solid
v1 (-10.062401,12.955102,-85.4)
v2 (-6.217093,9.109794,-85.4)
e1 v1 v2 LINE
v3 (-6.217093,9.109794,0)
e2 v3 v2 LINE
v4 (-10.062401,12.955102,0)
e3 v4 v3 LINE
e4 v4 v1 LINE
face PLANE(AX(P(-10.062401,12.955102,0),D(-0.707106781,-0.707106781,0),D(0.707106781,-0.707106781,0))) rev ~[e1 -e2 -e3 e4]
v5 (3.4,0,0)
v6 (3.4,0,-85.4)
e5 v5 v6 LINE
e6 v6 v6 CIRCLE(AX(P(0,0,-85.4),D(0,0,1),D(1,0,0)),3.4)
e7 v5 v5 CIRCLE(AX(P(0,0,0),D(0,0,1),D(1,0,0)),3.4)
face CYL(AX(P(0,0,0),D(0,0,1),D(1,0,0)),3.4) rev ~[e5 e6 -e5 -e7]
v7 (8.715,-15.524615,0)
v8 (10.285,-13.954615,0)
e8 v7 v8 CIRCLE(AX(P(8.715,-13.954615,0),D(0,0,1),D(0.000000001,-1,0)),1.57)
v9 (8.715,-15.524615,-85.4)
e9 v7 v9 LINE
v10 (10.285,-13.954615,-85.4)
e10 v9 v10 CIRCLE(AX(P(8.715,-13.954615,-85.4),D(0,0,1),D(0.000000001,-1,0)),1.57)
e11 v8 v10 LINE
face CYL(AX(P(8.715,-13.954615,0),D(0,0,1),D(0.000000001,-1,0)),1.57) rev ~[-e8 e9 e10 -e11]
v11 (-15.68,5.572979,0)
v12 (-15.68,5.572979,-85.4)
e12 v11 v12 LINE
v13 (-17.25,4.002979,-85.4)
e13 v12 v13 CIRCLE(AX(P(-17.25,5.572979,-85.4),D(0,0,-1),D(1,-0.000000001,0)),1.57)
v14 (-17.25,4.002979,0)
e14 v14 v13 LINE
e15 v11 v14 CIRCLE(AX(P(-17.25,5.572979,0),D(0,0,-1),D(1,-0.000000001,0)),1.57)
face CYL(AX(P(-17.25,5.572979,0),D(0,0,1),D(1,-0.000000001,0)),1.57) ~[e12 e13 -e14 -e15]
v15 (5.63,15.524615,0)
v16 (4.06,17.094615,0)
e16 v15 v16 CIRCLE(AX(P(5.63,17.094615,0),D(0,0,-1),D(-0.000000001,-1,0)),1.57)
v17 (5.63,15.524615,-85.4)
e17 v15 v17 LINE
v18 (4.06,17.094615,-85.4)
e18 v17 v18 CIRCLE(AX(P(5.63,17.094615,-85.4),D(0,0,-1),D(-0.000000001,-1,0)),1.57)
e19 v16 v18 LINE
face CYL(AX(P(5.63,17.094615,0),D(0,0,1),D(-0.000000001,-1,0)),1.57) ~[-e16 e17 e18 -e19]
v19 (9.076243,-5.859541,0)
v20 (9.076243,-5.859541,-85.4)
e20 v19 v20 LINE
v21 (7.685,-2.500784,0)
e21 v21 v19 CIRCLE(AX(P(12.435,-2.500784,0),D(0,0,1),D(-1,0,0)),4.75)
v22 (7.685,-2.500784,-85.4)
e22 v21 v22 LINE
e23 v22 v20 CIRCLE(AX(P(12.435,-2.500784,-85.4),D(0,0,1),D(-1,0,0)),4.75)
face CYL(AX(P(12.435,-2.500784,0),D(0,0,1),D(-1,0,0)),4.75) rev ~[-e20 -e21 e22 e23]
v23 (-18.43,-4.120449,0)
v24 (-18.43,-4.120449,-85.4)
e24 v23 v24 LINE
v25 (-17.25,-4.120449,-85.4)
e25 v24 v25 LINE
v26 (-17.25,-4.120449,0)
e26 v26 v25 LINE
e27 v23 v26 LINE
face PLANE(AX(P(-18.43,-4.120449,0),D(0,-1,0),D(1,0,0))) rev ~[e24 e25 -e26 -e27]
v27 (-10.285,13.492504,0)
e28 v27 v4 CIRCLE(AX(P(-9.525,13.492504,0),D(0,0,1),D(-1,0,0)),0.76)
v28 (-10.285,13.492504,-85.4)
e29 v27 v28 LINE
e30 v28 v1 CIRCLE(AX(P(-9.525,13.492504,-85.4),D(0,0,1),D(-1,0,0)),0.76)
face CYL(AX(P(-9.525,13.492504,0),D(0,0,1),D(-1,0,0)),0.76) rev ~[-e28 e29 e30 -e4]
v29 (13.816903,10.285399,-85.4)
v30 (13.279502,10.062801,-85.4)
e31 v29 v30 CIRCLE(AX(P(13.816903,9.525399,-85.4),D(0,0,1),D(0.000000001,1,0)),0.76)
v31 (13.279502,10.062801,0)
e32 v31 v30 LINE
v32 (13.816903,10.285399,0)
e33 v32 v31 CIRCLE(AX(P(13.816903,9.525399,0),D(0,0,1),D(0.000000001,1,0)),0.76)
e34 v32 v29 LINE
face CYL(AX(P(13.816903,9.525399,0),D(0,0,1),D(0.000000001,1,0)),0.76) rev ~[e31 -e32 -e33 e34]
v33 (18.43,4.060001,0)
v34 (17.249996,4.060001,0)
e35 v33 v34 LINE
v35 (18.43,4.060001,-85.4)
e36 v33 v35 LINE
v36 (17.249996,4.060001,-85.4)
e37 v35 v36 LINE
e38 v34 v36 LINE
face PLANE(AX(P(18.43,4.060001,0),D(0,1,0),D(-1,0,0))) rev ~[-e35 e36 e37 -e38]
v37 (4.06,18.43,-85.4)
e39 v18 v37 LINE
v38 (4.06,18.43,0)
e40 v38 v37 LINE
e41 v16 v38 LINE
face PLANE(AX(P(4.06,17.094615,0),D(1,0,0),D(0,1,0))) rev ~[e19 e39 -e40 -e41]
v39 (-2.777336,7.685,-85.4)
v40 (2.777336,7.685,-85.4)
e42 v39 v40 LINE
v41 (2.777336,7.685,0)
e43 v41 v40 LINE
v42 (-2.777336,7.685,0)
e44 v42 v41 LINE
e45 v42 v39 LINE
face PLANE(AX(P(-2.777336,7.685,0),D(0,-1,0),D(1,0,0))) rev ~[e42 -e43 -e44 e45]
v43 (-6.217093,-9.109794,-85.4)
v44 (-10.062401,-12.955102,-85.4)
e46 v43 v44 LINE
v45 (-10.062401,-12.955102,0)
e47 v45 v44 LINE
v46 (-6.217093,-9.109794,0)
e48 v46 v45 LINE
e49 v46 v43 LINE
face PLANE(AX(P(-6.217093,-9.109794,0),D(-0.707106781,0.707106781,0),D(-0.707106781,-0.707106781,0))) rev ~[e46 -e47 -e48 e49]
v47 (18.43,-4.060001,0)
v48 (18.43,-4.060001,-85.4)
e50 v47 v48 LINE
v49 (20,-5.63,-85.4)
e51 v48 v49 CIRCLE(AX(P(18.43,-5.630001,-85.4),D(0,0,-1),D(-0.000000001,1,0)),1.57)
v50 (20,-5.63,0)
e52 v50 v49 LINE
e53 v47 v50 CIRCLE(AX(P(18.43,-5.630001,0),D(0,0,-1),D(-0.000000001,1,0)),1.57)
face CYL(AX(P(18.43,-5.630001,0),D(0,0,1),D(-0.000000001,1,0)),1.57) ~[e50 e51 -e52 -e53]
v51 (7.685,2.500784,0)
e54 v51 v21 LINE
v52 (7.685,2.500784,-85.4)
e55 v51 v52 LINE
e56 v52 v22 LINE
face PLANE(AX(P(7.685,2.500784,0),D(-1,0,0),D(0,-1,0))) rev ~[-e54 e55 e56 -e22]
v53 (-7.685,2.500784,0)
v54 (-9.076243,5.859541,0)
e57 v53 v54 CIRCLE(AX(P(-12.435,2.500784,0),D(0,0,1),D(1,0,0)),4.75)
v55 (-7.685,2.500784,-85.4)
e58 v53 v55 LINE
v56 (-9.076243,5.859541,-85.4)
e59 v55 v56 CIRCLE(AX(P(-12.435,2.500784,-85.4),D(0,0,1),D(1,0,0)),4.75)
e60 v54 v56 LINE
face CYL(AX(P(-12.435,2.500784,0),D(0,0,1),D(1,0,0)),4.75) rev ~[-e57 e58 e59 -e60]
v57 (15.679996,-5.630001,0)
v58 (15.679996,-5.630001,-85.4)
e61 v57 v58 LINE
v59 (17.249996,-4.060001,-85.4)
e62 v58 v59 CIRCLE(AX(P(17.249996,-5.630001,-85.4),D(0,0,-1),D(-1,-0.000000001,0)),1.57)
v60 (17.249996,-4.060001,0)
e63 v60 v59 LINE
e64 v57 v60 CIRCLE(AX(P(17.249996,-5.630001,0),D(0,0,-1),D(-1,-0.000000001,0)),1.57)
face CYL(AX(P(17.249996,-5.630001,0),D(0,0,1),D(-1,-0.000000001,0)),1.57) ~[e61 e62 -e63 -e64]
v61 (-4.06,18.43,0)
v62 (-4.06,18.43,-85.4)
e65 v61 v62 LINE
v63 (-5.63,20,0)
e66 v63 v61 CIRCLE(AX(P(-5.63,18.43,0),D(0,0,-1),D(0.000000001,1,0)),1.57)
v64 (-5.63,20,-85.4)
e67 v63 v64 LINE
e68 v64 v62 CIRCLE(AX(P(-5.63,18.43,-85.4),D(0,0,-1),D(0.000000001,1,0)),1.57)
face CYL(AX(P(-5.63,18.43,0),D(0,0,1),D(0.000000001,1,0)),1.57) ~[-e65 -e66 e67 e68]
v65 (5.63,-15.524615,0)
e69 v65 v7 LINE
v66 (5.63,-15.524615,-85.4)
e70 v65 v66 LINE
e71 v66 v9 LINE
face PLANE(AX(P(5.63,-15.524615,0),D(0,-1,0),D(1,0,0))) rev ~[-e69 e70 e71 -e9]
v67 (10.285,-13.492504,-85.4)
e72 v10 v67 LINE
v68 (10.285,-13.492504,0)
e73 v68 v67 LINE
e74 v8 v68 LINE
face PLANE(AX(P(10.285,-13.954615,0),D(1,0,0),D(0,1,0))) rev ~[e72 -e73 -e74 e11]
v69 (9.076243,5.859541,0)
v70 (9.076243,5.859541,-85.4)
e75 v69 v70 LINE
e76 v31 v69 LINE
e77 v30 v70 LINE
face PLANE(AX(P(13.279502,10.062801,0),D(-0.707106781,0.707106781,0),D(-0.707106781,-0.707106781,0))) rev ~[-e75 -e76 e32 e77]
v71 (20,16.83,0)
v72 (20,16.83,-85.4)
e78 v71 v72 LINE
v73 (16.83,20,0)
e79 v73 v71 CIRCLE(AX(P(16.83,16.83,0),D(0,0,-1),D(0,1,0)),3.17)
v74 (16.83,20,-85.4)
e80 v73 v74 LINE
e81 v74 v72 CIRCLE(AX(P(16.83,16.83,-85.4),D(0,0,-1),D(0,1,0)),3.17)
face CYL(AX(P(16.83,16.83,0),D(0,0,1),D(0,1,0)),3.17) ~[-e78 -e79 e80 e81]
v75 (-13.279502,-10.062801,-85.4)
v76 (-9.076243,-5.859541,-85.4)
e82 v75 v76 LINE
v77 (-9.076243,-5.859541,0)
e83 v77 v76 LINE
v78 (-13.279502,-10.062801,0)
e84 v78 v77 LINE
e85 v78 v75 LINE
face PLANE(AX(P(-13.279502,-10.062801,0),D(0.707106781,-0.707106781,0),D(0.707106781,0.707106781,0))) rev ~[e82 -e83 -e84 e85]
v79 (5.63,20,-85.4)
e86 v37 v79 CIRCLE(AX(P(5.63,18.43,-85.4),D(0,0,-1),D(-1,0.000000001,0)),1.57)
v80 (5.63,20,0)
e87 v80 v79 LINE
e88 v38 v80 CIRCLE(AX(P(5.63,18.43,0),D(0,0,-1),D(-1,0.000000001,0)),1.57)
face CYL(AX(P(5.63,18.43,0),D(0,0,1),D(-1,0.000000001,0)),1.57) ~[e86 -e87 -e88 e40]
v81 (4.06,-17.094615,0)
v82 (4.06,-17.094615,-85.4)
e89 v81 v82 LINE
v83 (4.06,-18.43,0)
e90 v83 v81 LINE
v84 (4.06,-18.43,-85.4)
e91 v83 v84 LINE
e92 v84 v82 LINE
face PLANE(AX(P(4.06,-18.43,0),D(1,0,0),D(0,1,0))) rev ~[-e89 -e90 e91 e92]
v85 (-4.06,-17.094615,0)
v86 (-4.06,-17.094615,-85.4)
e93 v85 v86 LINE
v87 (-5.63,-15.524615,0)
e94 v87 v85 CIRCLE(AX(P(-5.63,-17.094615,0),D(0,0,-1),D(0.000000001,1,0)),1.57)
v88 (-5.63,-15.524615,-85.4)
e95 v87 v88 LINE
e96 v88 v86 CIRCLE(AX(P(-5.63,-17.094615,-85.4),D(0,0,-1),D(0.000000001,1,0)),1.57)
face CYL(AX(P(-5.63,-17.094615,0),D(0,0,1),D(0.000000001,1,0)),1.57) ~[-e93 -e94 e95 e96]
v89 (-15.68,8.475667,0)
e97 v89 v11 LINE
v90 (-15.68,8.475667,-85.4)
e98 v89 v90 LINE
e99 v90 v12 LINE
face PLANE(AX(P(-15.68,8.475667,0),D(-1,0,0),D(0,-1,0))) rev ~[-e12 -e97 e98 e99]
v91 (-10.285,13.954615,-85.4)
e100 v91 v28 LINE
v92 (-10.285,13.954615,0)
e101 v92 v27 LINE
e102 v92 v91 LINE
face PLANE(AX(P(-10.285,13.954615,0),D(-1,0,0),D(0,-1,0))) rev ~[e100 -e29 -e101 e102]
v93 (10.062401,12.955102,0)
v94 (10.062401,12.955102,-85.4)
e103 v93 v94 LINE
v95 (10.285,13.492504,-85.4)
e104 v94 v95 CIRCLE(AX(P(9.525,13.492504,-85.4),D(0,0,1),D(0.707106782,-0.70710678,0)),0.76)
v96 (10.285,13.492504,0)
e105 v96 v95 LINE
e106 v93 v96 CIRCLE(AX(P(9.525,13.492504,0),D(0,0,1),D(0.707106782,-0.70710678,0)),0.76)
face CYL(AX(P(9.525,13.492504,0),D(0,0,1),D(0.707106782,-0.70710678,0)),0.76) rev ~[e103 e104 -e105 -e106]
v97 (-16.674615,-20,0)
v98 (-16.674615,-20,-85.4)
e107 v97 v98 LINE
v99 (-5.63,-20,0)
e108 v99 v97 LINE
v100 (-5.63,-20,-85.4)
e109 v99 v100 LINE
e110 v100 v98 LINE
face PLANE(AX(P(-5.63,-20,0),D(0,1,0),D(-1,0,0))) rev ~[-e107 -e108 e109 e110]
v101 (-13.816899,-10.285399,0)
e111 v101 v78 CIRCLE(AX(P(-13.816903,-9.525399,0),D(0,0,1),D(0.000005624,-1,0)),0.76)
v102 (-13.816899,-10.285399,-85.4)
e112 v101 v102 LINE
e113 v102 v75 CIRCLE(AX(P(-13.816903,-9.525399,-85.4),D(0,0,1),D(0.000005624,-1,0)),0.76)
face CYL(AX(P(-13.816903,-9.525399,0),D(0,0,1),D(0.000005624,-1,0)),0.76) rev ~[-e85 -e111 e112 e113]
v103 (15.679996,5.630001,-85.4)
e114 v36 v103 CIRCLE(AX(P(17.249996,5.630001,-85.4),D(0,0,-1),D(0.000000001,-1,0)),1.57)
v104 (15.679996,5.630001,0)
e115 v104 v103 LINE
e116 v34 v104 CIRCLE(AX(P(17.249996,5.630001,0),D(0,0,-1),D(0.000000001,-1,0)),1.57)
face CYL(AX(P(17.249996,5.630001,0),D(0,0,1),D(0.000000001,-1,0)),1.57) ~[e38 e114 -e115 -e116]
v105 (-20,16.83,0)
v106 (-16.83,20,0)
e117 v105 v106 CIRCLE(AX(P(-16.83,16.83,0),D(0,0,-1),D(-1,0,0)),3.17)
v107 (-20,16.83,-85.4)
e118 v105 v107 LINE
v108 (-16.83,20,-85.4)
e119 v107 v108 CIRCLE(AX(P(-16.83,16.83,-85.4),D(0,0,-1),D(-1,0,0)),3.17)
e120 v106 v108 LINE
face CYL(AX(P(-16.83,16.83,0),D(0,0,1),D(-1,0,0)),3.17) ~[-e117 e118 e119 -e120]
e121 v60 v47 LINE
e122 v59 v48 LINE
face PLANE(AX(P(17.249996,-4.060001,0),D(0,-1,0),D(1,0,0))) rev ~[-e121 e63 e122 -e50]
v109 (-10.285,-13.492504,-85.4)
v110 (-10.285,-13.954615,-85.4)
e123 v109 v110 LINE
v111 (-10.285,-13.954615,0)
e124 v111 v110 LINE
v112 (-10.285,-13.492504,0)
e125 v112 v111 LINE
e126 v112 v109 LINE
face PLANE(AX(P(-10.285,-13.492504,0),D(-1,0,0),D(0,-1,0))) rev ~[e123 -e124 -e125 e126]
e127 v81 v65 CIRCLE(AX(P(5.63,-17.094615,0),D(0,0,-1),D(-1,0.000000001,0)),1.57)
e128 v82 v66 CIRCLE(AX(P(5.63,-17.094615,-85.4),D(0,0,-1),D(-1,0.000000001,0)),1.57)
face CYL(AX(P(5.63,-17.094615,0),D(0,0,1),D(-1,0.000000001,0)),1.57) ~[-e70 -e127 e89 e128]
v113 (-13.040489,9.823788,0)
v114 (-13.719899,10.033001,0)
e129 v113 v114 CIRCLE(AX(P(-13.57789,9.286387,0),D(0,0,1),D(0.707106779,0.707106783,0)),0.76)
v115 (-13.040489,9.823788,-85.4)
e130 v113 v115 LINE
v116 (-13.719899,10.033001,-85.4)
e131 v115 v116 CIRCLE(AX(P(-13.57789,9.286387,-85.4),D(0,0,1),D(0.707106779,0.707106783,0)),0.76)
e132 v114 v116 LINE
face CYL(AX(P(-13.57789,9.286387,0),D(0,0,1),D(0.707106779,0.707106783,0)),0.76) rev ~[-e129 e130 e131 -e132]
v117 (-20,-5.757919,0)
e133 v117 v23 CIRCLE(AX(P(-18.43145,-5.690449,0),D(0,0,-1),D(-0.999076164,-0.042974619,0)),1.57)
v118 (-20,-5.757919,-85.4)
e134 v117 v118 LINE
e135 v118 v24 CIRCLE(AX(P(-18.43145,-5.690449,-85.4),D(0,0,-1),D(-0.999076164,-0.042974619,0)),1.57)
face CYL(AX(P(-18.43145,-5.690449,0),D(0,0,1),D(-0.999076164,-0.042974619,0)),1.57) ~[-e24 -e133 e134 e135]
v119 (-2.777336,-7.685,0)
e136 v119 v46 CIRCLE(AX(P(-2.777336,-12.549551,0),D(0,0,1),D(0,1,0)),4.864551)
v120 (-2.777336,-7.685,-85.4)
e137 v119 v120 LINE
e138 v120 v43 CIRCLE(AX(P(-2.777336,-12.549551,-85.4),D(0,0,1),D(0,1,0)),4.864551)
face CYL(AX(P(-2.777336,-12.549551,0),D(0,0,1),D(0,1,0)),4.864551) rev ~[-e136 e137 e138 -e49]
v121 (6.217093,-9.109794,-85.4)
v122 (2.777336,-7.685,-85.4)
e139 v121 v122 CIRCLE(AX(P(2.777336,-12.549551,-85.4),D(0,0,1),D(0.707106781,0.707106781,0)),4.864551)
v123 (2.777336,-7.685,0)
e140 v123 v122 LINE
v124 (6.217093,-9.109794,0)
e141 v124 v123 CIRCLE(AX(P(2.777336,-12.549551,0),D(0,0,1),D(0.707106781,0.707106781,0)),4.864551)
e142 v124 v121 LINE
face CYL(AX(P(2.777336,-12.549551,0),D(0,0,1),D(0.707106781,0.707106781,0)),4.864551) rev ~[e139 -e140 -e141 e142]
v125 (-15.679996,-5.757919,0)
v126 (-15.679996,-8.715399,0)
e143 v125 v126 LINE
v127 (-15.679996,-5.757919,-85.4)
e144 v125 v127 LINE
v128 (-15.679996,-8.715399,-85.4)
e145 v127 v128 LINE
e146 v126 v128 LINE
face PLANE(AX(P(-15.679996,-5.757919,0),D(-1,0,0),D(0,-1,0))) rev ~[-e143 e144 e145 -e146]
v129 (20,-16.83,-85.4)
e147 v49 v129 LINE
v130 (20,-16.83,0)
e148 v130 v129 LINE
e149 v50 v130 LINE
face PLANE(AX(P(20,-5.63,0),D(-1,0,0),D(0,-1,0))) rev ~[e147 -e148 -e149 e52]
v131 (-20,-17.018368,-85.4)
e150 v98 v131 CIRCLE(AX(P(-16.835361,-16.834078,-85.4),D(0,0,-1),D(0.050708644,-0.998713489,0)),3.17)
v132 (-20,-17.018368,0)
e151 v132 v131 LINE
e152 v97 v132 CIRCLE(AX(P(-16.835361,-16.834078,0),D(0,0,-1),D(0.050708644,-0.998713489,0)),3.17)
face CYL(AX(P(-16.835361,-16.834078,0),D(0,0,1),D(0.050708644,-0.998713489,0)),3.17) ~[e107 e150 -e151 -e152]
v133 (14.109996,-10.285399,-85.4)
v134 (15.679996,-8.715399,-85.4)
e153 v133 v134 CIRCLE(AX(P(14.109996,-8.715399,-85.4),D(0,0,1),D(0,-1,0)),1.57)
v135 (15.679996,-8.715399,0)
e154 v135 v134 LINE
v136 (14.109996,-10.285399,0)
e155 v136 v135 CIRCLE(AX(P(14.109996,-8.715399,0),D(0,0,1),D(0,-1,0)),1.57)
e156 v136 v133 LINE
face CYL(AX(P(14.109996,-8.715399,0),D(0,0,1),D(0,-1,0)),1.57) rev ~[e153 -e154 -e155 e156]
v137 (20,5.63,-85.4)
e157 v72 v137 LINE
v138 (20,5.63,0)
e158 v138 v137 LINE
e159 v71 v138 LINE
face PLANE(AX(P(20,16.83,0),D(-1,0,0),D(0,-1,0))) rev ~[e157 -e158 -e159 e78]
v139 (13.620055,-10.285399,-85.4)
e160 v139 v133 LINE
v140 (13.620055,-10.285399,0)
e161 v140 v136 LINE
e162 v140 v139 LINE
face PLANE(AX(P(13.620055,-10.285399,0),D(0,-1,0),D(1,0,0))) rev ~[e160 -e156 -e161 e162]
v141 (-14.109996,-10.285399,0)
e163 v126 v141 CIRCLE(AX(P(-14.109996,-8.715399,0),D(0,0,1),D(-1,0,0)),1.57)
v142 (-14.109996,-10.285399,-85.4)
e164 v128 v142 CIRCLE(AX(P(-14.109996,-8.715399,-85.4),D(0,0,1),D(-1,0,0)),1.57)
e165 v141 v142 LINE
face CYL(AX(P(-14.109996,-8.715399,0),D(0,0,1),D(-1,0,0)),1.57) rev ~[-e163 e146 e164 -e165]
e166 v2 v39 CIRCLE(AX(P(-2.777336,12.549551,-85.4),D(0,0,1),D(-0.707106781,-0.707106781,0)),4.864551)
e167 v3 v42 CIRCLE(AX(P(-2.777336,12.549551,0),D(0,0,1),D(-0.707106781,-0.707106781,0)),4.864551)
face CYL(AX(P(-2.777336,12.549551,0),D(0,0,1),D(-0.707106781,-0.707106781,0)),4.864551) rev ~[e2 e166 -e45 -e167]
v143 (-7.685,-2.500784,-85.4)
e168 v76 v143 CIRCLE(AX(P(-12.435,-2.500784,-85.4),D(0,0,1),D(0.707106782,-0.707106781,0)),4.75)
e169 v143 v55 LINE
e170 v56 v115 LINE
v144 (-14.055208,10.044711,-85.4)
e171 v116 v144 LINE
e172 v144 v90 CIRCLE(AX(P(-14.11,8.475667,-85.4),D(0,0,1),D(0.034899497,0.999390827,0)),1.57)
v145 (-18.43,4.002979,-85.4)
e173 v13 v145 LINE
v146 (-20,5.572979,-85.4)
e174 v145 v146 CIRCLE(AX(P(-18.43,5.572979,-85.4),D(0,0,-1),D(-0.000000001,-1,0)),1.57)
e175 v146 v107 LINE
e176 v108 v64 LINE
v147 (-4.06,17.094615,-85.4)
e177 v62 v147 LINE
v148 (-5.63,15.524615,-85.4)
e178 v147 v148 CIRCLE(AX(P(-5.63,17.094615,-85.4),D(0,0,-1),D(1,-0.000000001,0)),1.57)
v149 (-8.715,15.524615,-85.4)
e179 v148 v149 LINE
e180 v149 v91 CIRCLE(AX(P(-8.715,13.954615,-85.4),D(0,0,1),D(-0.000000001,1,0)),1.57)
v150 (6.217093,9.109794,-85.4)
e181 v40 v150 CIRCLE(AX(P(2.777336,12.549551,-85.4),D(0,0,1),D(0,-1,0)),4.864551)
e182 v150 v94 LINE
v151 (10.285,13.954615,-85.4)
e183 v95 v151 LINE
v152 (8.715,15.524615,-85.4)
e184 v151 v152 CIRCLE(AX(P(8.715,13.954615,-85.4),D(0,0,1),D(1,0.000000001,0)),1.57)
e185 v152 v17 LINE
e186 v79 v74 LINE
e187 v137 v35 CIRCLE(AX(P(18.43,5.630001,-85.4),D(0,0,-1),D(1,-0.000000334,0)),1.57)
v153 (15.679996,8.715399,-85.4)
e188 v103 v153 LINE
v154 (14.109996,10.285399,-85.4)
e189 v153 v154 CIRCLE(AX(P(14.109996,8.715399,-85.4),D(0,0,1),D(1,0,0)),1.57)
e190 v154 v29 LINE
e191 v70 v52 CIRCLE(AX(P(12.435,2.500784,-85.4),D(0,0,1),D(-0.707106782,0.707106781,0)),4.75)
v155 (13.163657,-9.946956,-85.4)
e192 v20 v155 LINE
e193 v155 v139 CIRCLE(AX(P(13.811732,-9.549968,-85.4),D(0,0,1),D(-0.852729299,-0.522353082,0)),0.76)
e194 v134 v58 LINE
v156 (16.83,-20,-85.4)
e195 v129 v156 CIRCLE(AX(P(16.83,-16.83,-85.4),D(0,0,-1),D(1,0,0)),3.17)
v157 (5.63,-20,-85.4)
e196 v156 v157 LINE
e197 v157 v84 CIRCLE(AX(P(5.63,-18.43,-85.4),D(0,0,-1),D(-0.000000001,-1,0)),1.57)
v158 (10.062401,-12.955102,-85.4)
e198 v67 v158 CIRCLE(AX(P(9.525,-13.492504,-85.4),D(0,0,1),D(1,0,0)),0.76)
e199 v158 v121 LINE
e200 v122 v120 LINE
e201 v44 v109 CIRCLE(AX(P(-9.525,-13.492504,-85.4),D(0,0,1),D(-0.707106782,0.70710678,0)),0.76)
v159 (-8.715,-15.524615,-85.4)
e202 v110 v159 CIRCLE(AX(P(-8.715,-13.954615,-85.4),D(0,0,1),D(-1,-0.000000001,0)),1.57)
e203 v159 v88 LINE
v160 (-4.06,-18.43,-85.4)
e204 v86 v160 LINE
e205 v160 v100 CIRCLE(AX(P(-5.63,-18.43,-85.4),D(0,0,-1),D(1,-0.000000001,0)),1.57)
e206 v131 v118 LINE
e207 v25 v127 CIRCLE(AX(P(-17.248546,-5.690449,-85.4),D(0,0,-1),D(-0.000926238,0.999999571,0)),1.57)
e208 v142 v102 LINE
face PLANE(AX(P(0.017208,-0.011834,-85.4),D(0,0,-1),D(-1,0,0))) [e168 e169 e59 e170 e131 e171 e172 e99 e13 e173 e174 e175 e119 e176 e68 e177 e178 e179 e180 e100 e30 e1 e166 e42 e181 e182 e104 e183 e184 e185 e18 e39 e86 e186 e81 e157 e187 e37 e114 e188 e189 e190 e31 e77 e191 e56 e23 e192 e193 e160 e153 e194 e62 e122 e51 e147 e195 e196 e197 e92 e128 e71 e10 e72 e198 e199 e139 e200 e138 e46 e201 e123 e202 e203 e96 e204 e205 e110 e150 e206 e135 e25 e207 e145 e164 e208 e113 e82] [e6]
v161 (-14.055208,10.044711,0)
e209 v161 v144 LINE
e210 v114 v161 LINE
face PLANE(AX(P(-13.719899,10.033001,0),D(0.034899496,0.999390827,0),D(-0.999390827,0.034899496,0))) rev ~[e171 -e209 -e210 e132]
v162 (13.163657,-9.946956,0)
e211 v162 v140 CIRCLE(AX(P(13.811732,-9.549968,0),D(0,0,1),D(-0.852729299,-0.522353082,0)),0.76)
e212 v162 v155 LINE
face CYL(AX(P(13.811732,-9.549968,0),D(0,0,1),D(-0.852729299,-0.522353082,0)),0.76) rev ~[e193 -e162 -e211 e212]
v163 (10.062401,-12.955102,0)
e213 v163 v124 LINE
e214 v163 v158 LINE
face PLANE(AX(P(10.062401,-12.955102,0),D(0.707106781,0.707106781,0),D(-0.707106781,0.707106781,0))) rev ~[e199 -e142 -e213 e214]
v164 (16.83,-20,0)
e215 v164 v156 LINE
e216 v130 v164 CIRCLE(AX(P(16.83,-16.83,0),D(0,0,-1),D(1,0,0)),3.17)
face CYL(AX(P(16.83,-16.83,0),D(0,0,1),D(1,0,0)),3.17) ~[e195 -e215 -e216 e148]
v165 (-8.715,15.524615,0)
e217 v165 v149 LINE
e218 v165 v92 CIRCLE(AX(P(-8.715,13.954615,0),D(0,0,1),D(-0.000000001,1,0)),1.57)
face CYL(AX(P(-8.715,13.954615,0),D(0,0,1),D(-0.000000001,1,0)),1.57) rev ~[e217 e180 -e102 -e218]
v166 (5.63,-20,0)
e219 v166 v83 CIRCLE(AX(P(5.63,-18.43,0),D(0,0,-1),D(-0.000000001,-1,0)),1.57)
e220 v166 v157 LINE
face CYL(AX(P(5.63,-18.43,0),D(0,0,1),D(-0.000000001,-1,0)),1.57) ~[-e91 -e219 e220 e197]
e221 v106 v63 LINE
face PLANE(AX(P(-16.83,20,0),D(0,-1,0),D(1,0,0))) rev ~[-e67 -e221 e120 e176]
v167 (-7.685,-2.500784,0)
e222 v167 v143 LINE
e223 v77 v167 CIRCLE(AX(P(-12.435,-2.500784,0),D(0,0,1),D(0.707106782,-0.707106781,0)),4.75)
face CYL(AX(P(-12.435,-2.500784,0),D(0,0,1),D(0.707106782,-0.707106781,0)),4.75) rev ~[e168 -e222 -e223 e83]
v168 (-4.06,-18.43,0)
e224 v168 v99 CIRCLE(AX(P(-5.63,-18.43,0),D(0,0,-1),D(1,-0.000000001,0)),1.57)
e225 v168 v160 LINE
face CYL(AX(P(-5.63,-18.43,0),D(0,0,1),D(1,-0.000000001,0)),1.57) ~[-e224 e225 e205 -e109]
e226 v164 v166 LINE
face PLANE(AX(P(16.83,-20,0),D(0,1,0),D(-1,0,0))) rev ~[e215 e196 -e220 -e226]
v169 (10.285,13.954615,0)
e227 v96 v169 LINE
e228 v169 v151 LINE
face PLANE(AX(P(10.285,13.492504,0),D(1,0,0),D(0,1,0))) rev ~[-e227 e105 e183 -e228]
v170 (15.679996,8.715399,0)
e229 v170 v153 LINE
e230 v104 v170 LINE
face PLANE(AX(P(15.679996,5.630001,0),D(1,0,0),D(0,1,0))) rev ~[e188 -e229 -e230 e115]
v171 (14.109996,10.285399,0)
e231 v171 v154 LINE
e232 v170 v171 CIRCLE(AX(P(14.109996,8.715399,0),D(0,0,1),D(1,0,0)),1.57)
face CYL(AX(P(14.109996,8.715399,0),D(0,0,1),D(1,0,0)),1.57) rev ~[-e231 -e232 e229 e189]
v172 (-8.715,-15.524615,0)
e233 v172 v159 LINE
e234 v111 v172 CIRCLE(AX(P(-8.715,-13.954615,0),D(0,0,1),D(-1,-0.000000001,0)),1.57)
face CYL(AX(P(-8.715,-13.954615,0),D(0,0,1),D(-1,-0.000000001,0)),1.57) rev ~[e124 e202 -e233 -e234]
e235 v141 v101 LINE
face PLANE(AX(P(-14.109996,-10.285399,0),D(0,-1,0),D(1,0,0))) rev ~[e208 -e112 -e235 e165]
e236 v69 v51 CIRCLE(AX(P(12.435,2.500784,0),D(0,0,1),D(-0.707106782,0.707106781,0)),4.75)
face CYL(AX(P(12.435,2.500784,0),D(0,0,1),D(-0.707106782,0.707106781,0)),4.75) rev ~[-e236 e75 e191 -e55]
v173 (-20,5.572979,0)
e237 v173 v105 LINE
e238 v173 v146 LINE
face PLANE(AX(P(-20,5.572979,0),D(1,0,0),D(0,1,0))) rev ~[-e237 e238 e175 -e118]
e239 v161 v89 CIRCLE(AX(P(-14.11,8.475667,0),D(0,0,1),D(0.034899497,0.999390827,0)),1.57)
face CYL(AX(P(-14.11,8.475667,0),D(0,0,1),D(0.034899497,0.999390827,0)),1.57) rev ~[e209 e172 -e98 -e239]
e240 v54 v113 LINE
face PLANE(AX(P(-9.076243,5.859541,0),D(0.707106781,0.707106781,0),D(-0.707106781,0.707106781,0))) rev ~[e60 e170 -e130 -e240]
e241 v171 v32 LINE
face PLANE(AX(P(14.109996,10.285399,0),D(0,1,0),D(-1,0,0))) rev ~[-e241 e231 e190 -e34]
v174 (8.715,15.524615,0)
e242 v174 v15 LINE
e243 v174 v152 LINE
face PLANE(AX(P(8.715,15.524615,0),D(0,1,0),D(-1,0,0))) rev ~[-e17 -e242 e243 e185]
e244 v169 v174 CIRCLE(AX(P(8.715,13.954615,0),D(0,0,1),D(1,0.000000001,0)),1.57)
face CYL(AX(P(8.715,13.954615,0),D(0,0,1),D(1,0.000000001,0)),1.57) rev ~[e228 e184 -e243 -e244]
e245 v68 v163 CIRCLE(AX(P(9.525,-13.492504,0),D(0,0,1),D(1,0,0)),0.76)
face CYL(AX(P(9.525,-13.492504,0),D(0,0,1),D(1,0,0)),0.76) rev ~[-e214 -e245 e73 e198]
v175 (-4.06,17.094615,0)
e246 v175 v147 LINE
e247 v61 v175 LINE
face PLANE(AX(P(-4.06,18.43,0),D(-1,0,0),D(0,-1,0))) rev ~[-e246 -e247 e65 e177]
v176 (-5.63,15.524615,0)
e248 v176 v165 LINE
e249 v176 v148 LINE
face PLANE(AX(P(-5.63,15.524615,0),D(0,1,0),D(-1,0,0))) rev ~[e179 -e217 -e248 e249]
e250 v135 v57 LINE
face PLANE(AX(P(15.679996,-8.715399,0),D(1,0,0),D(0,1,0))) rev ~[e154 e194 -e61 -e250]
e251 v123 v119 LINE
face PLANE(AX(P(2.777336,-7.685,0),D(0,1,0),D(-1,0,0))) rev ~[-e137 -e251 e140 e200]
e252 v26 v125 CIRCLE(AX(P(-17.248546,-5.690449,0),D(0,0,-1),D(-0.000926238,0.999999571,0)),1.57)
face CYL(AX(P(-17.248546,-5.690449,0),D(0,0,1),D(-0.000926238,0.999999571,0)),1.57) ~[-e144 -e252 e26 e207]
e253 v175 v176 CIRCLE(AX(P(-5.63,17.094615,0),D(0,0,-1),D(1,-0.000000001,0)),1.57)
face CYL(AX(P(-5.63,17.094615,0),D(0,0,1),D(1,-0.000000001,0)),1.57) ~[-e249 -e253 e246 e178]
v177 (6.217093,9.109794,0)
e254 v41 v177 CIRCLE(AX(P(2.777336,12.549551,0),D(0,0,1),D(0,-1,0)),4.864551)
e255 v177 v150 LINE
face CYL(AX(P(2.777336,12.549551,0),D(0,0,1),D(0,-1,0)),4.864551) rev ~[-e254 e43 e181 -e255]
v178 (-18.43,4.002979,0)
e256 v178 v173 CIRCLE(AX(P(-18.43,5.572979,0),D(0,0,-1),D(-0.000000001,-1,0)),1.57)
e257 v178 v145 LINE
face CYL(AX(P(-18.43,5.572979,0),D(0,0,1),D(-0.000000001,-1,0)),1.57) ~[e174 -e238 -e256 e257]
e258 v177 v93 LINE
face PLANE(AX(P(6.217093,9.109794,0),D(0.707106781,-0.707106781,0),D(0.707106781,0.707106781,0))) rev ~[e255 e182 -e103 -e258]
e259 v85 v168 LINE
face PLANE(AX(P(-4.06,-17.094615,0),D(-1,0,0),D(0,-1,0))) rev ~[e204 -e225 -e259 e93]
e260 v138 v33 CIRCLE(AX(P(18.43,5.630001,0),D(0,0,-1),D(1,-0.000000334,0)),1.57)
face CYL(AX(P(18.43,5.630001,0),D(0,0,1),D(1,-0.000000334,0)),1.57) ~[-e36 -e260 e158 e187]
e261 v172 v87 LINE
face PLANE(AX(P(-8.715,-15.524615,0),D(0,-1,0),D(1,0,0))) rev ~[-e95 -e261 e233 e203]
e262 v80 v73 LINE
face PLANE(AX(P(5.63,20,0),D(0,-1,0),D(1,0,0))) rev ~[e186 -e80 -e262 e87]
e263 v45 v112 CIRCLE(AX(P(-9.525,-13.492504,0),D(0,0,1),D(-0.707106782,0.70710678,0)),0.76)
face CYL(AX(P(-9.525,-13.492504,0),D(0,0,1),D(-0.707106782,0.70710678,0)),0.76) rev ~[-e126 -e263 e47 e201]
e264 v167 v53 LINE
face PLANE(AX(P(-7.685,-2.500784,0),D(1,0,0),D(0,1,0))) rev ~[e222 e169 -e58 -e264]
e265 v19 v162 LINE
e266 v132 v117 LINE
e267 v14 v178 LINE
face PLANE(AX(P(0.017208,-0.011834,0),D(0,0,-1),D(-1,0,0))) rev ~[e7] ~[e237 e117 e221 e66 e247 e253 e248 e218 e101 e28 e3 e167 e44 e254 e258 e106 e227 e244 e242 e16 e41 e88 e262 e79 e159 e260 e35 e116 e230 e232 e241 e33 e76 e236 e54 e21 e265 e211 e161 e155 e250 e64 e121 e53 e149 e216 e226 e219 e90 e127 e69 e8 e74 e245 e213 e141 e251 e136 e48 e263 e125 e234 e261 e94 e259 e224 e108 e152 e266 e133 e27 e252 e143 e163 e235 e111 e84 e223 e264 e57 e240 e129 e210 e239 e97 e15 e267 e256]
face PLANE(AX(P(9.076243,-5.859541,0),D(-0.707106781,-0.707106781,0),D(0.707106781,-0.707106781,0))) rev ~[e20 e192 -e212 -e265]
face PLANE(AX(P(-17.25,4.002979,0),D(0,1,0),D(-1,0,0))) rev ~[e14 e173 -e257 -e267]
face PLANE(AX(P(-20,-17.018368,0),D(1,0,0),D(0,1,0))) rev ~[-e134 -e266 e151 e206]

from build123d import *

# Parameters (mm, degrees)
SKETCH1_R      = 3.4
EXTRUDE1_DEPTH = 85.4


with BuildPart() as part:
    # Sketch1 → Extrude1 (new body)
    with BuildSketch(Plane.XY):
        with BuildLine():
            Line((-8.715, -15.524615034), (-5.63, -15.524615034))
            ThreePointArc((-5.63, -15.524615034), (-4.519842354, -15.984457388), (-4.06, -17.094615034))
            Line((-4.06, -17.094615034), (-4.06, -18.43))
            ThreePointArc((-4.06, -18.43), (-4.519842354, -19.540157646), (-5.63, -20))
            Line((-5.63, -20), (-16.674615034, -20))
            ThreePointArc((-16.674615034, -20), (-18.951578385, -19.194274381), (-20, -17.018368134))
            Line((-20, -17.018368134), (-20, -5.757918808))
            ThreePointArc((-20, -5.757918808), (-19.564709668, -4.603883664), (-18.43, -4.120449326))
            Line((-18.43, -4.120449326), (-17.25, -4.120449326))
            ThreePointArc((-17.25, -4.120449326), (-16.115287682, -4.60388249), (-15.67999625, -5.757919334))
            Line((-15.67999625, -5.757919334), (-15.67999625, -8.715399492))
            ThreePointArc((-15.67999625, -8.715399492), (-15.220153896, -9.825557139), (-14.10999625, -10.285399492))
            Line((-14.10999625, -10.285399492), (-13.816898819, -10.285399492))
            ThreePointArc((-13.816898819, -10.285399492), (-13.526061711, -10.227547119), (-13.279501941, -10.062800646))
            Line((-13.279501941, -10.062800646), (-9.076242789, -5.859541495))
            ThreePointArc((-9.076242789, -5.859541495), (-8.046572221, -4.318530588), (-7.685, -2.500784284))
            Line((-7.685, -2.500784284), (-7.685, 2.500784284))
            ThreePointArc((-7.685, 2.500784284), (-8.046572221, 4.318530588), (-9.076242789, 5.859541495))
            Line((-9.076242789, 5.859541495), (-13.040489136, 9.823787841))
            ThreePointArc((-13.040489136, 9.823787841), (-13.354224618, 10.012729352), (-13.71989919, 10.033001362))
            Line((-13.71989919, 10.033001362), (-14.05520779, 10.044710596))
            ThreePointArc((-14.05520779, 10.044710596), (-15.200613642, 9.605030484), (-15.68, 8.475666998))
            Line((-15.68, 8.475666998), (-15.68, 5.572979049))
            ThreePointArc((-15.68, 5.572979049), (-16.139842354, 4.462821403), (-17.25, 4.002979049))
            Line((-17.25, 4.002979049), (-18.43, 4.002979049))
            ThreePointArc((-18.43, 4.002979049), (-19.540157646, 4.462821403), (-20, 5.572979049))
            Line((-20, 5.572979049), (-20, 13.004526564))
            Line((-20, 13.004526564), (-20, 16.83))
            ThreePointArc((-20, 16.83), (-19.071528496, 19.071528496), (-16.83, 20))
            Line((-16.83, 20), (-5.63, 20))
            ThreePointArc((-5.63, 20), (-4.519842354, 19.540157646), (-4.06, 18.43))
            Line((-4.06, 18.43), (-4.06, 17.094615034))
            ThreePointArc((-4.06, 17.094615034), (-4.519842354, 15.984457388), (-5.63, 15.524615034))
            Line((-5.63, 15.524615034), (-8.715, 15.524615034))
            ThreePointArc((-8.715, 15.524615034), (-9.825157646, 15.06477268), (-10.285, 13.954615034))
            Line((-10.285, 13.954615034), (-10.285, 13.492503602))
            ThreePointArc((-10.285, 13.492503602), (-10.227148445, 13.201664194), (-10.062401154, 12.955102448))
            Line((-10.062401154, 12.955102448), (-6.217092793, 9.109794088))
            ThreePointArc((-6.217092793, 9.109794088), (-4.63891877, 8.055291919), (-2.777335583, 7.685))
            Line((-2.777335583, 7.685), (2.777335583, 7.685))
            ThreePointArc((2.777335583, 7.685), (4.63891877, 8.055291919), (6.217092793, 9.109794088))
            Line((6.217092793, 9.109794088), (10.062401154, 12.955102448))
            ThreePointArc((10.062401154, 12.955102448), (10.227148445, 13.201664194), (10.285, 13.492503602))
            Line((10.285, 13.492503602), (10.285, 13.954615034))
            ThreePointArc((10.285, 13.954615034), (9.825157646, 15.06477268), (8.715, 15.524615034))
            Line((8.715, 15.524615034), (5.63, 15.524615034))
            ThreePointArc((5.63, 15.524615034), (4.519842354, 15.984457388), (4.06, 17.094615034))
            Line((4.06, 17.094615034), (4.06, 18.43))
            ThreePointArc((4.06, 18.43), (4.519842354, 19.540157646), (5.63, 20))
            Line((5.63, 20), (12.979635074, 20))
            Line((12.979635074, 20), (16.83, 20))
            ThreePointArc((16.83, 20), (19.071528496, 19.071528496), (20, 16.83))
            Line((20, 16.83), (20, 13.001098436))
            Line((20, 13.001098436), (20, 5.63))
            ThreePointArc((20, 5.63), (19.540157461, 4.519842693), (18.43, 4.060000526))
            Line((18.43, 4.060000526), (17.24999625, 4.060000526))
            ThreePointArc((17.24999625, 4.060000526), (16.139838603, 4.519842879), (15.67999625, 5.630000526))
            Line((15.67999625, 5.630000526), (15.67999625, 8.715399492))
            ThreePointArc((15.67999625, 8.715399492), (15.220153896, 9.825557139), (14.10999625, 10.285399492))
            Line((14.10999625, 10.285399492), (13.816903094, 10.285399492))
            ThreePointArc((13.816903094, 10.285399492), (13.526063686, 10.227547937), (13.279501941, 10.062800646))
            Line((13.279501941, 10.062800646), (9.076242789, 5.859541495))
            ThreePointArc((9.076242789, 5.859541495), (8.046572221, 4.318530588), (7.685, 2.500784284))
            Line((7.685, 2.500784284), (7.685, -2.500784284))
            ThreePointArc((7.685, -2.500784284), (8.046572221, -4.318530588), (9.076242789, -5.859541495))
            Line((9.076242789, -5.859541495), (13.163657296, -9.946956002))
            ThreePointArc((13.163657296, -9.946956002), (13.35903797, -10.160433474), (13.6200547, -10.285399492))
            Line((13.6200547, -10.285399492), (14.10999625, -10.285399492))
            ThreePointArc((14.10999625, -10.285399492), (15.220153896, -9.825557139), (15.67999625, -8.715399492))
            Line((15.67999625, -8.715399492), (15.67999625, -5.630000526))
            ThreePointArc((15.67999625, -5.630000526), (16.139838603, -4.519842879), (17.24999625, -4.060000526))
            Line((17.24999625, -4.060000526), (18.43, -4.060000526))
            ThreePointArc((18.43, -4.060000526), (19.540157461, -4.519842693), (20, -5.63))
            Line((20, -5.63), (20, -16.83))
            ThreePointArc((20, -16.83), (19.071528496, -19.071528496), (16.83, -20))
            Line((16.83, -20), (13, -20))
            Line((13, -20), (5.63, -20))
            ThreePointArc((5.63, -20), (4.519842354, -19.540157646), (4.06, -18.43))
            Line((4.06, -18.43), (4.06, -17.094615034))
            ThreePointArc((4.06, -17.094615034), (4.519842354, -15.984457388), (5.63, -15.524615034))
            Line((5.63, -15.524615034), (8.715, -15.524615034))
            ThreePointArc((8.715, -15.524615034), (9.825157646, -15.06477268), (10.285, -13.954615034))
            Line((10.285, -13.954615034), (10.285, -13.492503602))
            ThreePointArc((10.285, -13.492503602), (10.227148445, -13.201664194), (10.062401154, -12.955102448))
            Line((10.062401154, -12.955102448), (6.217092793, -9.109794088))
            ThreePointArc((6.217092793, -9.109794088), (4.63891877, -8.055291919), (2.777335583, -7.685))
            Line((2.777335583, -7.685), (-2.777335583, -7.685))
            ThreePointArc((-2.777335583, -7.685), (-4.63891877, -8.055291919), (-6.217092793, -9.109794088))
            Line((-6.217092793, -9.109794088), (-10.062401154, -12.955102448))
            ThreePointArc((-10.062401154, -12.955102448), (-10.227148445, -13.201664194), (-10.285, -13.492503602))
            Line((-10.285, -13.492503602), (-10.285, -13.954615034))
            ThreePointArc((-10.285, -13.954615034), (-9.825157646, -15.06477268), (-8.715, -15.524615034))
        make_face()
        Circle(SKETCH1_R, mode=Mode.SUBTRACT)
    extrude(amount=-EXTRUDE1_DEPTH)


solid = part.part
